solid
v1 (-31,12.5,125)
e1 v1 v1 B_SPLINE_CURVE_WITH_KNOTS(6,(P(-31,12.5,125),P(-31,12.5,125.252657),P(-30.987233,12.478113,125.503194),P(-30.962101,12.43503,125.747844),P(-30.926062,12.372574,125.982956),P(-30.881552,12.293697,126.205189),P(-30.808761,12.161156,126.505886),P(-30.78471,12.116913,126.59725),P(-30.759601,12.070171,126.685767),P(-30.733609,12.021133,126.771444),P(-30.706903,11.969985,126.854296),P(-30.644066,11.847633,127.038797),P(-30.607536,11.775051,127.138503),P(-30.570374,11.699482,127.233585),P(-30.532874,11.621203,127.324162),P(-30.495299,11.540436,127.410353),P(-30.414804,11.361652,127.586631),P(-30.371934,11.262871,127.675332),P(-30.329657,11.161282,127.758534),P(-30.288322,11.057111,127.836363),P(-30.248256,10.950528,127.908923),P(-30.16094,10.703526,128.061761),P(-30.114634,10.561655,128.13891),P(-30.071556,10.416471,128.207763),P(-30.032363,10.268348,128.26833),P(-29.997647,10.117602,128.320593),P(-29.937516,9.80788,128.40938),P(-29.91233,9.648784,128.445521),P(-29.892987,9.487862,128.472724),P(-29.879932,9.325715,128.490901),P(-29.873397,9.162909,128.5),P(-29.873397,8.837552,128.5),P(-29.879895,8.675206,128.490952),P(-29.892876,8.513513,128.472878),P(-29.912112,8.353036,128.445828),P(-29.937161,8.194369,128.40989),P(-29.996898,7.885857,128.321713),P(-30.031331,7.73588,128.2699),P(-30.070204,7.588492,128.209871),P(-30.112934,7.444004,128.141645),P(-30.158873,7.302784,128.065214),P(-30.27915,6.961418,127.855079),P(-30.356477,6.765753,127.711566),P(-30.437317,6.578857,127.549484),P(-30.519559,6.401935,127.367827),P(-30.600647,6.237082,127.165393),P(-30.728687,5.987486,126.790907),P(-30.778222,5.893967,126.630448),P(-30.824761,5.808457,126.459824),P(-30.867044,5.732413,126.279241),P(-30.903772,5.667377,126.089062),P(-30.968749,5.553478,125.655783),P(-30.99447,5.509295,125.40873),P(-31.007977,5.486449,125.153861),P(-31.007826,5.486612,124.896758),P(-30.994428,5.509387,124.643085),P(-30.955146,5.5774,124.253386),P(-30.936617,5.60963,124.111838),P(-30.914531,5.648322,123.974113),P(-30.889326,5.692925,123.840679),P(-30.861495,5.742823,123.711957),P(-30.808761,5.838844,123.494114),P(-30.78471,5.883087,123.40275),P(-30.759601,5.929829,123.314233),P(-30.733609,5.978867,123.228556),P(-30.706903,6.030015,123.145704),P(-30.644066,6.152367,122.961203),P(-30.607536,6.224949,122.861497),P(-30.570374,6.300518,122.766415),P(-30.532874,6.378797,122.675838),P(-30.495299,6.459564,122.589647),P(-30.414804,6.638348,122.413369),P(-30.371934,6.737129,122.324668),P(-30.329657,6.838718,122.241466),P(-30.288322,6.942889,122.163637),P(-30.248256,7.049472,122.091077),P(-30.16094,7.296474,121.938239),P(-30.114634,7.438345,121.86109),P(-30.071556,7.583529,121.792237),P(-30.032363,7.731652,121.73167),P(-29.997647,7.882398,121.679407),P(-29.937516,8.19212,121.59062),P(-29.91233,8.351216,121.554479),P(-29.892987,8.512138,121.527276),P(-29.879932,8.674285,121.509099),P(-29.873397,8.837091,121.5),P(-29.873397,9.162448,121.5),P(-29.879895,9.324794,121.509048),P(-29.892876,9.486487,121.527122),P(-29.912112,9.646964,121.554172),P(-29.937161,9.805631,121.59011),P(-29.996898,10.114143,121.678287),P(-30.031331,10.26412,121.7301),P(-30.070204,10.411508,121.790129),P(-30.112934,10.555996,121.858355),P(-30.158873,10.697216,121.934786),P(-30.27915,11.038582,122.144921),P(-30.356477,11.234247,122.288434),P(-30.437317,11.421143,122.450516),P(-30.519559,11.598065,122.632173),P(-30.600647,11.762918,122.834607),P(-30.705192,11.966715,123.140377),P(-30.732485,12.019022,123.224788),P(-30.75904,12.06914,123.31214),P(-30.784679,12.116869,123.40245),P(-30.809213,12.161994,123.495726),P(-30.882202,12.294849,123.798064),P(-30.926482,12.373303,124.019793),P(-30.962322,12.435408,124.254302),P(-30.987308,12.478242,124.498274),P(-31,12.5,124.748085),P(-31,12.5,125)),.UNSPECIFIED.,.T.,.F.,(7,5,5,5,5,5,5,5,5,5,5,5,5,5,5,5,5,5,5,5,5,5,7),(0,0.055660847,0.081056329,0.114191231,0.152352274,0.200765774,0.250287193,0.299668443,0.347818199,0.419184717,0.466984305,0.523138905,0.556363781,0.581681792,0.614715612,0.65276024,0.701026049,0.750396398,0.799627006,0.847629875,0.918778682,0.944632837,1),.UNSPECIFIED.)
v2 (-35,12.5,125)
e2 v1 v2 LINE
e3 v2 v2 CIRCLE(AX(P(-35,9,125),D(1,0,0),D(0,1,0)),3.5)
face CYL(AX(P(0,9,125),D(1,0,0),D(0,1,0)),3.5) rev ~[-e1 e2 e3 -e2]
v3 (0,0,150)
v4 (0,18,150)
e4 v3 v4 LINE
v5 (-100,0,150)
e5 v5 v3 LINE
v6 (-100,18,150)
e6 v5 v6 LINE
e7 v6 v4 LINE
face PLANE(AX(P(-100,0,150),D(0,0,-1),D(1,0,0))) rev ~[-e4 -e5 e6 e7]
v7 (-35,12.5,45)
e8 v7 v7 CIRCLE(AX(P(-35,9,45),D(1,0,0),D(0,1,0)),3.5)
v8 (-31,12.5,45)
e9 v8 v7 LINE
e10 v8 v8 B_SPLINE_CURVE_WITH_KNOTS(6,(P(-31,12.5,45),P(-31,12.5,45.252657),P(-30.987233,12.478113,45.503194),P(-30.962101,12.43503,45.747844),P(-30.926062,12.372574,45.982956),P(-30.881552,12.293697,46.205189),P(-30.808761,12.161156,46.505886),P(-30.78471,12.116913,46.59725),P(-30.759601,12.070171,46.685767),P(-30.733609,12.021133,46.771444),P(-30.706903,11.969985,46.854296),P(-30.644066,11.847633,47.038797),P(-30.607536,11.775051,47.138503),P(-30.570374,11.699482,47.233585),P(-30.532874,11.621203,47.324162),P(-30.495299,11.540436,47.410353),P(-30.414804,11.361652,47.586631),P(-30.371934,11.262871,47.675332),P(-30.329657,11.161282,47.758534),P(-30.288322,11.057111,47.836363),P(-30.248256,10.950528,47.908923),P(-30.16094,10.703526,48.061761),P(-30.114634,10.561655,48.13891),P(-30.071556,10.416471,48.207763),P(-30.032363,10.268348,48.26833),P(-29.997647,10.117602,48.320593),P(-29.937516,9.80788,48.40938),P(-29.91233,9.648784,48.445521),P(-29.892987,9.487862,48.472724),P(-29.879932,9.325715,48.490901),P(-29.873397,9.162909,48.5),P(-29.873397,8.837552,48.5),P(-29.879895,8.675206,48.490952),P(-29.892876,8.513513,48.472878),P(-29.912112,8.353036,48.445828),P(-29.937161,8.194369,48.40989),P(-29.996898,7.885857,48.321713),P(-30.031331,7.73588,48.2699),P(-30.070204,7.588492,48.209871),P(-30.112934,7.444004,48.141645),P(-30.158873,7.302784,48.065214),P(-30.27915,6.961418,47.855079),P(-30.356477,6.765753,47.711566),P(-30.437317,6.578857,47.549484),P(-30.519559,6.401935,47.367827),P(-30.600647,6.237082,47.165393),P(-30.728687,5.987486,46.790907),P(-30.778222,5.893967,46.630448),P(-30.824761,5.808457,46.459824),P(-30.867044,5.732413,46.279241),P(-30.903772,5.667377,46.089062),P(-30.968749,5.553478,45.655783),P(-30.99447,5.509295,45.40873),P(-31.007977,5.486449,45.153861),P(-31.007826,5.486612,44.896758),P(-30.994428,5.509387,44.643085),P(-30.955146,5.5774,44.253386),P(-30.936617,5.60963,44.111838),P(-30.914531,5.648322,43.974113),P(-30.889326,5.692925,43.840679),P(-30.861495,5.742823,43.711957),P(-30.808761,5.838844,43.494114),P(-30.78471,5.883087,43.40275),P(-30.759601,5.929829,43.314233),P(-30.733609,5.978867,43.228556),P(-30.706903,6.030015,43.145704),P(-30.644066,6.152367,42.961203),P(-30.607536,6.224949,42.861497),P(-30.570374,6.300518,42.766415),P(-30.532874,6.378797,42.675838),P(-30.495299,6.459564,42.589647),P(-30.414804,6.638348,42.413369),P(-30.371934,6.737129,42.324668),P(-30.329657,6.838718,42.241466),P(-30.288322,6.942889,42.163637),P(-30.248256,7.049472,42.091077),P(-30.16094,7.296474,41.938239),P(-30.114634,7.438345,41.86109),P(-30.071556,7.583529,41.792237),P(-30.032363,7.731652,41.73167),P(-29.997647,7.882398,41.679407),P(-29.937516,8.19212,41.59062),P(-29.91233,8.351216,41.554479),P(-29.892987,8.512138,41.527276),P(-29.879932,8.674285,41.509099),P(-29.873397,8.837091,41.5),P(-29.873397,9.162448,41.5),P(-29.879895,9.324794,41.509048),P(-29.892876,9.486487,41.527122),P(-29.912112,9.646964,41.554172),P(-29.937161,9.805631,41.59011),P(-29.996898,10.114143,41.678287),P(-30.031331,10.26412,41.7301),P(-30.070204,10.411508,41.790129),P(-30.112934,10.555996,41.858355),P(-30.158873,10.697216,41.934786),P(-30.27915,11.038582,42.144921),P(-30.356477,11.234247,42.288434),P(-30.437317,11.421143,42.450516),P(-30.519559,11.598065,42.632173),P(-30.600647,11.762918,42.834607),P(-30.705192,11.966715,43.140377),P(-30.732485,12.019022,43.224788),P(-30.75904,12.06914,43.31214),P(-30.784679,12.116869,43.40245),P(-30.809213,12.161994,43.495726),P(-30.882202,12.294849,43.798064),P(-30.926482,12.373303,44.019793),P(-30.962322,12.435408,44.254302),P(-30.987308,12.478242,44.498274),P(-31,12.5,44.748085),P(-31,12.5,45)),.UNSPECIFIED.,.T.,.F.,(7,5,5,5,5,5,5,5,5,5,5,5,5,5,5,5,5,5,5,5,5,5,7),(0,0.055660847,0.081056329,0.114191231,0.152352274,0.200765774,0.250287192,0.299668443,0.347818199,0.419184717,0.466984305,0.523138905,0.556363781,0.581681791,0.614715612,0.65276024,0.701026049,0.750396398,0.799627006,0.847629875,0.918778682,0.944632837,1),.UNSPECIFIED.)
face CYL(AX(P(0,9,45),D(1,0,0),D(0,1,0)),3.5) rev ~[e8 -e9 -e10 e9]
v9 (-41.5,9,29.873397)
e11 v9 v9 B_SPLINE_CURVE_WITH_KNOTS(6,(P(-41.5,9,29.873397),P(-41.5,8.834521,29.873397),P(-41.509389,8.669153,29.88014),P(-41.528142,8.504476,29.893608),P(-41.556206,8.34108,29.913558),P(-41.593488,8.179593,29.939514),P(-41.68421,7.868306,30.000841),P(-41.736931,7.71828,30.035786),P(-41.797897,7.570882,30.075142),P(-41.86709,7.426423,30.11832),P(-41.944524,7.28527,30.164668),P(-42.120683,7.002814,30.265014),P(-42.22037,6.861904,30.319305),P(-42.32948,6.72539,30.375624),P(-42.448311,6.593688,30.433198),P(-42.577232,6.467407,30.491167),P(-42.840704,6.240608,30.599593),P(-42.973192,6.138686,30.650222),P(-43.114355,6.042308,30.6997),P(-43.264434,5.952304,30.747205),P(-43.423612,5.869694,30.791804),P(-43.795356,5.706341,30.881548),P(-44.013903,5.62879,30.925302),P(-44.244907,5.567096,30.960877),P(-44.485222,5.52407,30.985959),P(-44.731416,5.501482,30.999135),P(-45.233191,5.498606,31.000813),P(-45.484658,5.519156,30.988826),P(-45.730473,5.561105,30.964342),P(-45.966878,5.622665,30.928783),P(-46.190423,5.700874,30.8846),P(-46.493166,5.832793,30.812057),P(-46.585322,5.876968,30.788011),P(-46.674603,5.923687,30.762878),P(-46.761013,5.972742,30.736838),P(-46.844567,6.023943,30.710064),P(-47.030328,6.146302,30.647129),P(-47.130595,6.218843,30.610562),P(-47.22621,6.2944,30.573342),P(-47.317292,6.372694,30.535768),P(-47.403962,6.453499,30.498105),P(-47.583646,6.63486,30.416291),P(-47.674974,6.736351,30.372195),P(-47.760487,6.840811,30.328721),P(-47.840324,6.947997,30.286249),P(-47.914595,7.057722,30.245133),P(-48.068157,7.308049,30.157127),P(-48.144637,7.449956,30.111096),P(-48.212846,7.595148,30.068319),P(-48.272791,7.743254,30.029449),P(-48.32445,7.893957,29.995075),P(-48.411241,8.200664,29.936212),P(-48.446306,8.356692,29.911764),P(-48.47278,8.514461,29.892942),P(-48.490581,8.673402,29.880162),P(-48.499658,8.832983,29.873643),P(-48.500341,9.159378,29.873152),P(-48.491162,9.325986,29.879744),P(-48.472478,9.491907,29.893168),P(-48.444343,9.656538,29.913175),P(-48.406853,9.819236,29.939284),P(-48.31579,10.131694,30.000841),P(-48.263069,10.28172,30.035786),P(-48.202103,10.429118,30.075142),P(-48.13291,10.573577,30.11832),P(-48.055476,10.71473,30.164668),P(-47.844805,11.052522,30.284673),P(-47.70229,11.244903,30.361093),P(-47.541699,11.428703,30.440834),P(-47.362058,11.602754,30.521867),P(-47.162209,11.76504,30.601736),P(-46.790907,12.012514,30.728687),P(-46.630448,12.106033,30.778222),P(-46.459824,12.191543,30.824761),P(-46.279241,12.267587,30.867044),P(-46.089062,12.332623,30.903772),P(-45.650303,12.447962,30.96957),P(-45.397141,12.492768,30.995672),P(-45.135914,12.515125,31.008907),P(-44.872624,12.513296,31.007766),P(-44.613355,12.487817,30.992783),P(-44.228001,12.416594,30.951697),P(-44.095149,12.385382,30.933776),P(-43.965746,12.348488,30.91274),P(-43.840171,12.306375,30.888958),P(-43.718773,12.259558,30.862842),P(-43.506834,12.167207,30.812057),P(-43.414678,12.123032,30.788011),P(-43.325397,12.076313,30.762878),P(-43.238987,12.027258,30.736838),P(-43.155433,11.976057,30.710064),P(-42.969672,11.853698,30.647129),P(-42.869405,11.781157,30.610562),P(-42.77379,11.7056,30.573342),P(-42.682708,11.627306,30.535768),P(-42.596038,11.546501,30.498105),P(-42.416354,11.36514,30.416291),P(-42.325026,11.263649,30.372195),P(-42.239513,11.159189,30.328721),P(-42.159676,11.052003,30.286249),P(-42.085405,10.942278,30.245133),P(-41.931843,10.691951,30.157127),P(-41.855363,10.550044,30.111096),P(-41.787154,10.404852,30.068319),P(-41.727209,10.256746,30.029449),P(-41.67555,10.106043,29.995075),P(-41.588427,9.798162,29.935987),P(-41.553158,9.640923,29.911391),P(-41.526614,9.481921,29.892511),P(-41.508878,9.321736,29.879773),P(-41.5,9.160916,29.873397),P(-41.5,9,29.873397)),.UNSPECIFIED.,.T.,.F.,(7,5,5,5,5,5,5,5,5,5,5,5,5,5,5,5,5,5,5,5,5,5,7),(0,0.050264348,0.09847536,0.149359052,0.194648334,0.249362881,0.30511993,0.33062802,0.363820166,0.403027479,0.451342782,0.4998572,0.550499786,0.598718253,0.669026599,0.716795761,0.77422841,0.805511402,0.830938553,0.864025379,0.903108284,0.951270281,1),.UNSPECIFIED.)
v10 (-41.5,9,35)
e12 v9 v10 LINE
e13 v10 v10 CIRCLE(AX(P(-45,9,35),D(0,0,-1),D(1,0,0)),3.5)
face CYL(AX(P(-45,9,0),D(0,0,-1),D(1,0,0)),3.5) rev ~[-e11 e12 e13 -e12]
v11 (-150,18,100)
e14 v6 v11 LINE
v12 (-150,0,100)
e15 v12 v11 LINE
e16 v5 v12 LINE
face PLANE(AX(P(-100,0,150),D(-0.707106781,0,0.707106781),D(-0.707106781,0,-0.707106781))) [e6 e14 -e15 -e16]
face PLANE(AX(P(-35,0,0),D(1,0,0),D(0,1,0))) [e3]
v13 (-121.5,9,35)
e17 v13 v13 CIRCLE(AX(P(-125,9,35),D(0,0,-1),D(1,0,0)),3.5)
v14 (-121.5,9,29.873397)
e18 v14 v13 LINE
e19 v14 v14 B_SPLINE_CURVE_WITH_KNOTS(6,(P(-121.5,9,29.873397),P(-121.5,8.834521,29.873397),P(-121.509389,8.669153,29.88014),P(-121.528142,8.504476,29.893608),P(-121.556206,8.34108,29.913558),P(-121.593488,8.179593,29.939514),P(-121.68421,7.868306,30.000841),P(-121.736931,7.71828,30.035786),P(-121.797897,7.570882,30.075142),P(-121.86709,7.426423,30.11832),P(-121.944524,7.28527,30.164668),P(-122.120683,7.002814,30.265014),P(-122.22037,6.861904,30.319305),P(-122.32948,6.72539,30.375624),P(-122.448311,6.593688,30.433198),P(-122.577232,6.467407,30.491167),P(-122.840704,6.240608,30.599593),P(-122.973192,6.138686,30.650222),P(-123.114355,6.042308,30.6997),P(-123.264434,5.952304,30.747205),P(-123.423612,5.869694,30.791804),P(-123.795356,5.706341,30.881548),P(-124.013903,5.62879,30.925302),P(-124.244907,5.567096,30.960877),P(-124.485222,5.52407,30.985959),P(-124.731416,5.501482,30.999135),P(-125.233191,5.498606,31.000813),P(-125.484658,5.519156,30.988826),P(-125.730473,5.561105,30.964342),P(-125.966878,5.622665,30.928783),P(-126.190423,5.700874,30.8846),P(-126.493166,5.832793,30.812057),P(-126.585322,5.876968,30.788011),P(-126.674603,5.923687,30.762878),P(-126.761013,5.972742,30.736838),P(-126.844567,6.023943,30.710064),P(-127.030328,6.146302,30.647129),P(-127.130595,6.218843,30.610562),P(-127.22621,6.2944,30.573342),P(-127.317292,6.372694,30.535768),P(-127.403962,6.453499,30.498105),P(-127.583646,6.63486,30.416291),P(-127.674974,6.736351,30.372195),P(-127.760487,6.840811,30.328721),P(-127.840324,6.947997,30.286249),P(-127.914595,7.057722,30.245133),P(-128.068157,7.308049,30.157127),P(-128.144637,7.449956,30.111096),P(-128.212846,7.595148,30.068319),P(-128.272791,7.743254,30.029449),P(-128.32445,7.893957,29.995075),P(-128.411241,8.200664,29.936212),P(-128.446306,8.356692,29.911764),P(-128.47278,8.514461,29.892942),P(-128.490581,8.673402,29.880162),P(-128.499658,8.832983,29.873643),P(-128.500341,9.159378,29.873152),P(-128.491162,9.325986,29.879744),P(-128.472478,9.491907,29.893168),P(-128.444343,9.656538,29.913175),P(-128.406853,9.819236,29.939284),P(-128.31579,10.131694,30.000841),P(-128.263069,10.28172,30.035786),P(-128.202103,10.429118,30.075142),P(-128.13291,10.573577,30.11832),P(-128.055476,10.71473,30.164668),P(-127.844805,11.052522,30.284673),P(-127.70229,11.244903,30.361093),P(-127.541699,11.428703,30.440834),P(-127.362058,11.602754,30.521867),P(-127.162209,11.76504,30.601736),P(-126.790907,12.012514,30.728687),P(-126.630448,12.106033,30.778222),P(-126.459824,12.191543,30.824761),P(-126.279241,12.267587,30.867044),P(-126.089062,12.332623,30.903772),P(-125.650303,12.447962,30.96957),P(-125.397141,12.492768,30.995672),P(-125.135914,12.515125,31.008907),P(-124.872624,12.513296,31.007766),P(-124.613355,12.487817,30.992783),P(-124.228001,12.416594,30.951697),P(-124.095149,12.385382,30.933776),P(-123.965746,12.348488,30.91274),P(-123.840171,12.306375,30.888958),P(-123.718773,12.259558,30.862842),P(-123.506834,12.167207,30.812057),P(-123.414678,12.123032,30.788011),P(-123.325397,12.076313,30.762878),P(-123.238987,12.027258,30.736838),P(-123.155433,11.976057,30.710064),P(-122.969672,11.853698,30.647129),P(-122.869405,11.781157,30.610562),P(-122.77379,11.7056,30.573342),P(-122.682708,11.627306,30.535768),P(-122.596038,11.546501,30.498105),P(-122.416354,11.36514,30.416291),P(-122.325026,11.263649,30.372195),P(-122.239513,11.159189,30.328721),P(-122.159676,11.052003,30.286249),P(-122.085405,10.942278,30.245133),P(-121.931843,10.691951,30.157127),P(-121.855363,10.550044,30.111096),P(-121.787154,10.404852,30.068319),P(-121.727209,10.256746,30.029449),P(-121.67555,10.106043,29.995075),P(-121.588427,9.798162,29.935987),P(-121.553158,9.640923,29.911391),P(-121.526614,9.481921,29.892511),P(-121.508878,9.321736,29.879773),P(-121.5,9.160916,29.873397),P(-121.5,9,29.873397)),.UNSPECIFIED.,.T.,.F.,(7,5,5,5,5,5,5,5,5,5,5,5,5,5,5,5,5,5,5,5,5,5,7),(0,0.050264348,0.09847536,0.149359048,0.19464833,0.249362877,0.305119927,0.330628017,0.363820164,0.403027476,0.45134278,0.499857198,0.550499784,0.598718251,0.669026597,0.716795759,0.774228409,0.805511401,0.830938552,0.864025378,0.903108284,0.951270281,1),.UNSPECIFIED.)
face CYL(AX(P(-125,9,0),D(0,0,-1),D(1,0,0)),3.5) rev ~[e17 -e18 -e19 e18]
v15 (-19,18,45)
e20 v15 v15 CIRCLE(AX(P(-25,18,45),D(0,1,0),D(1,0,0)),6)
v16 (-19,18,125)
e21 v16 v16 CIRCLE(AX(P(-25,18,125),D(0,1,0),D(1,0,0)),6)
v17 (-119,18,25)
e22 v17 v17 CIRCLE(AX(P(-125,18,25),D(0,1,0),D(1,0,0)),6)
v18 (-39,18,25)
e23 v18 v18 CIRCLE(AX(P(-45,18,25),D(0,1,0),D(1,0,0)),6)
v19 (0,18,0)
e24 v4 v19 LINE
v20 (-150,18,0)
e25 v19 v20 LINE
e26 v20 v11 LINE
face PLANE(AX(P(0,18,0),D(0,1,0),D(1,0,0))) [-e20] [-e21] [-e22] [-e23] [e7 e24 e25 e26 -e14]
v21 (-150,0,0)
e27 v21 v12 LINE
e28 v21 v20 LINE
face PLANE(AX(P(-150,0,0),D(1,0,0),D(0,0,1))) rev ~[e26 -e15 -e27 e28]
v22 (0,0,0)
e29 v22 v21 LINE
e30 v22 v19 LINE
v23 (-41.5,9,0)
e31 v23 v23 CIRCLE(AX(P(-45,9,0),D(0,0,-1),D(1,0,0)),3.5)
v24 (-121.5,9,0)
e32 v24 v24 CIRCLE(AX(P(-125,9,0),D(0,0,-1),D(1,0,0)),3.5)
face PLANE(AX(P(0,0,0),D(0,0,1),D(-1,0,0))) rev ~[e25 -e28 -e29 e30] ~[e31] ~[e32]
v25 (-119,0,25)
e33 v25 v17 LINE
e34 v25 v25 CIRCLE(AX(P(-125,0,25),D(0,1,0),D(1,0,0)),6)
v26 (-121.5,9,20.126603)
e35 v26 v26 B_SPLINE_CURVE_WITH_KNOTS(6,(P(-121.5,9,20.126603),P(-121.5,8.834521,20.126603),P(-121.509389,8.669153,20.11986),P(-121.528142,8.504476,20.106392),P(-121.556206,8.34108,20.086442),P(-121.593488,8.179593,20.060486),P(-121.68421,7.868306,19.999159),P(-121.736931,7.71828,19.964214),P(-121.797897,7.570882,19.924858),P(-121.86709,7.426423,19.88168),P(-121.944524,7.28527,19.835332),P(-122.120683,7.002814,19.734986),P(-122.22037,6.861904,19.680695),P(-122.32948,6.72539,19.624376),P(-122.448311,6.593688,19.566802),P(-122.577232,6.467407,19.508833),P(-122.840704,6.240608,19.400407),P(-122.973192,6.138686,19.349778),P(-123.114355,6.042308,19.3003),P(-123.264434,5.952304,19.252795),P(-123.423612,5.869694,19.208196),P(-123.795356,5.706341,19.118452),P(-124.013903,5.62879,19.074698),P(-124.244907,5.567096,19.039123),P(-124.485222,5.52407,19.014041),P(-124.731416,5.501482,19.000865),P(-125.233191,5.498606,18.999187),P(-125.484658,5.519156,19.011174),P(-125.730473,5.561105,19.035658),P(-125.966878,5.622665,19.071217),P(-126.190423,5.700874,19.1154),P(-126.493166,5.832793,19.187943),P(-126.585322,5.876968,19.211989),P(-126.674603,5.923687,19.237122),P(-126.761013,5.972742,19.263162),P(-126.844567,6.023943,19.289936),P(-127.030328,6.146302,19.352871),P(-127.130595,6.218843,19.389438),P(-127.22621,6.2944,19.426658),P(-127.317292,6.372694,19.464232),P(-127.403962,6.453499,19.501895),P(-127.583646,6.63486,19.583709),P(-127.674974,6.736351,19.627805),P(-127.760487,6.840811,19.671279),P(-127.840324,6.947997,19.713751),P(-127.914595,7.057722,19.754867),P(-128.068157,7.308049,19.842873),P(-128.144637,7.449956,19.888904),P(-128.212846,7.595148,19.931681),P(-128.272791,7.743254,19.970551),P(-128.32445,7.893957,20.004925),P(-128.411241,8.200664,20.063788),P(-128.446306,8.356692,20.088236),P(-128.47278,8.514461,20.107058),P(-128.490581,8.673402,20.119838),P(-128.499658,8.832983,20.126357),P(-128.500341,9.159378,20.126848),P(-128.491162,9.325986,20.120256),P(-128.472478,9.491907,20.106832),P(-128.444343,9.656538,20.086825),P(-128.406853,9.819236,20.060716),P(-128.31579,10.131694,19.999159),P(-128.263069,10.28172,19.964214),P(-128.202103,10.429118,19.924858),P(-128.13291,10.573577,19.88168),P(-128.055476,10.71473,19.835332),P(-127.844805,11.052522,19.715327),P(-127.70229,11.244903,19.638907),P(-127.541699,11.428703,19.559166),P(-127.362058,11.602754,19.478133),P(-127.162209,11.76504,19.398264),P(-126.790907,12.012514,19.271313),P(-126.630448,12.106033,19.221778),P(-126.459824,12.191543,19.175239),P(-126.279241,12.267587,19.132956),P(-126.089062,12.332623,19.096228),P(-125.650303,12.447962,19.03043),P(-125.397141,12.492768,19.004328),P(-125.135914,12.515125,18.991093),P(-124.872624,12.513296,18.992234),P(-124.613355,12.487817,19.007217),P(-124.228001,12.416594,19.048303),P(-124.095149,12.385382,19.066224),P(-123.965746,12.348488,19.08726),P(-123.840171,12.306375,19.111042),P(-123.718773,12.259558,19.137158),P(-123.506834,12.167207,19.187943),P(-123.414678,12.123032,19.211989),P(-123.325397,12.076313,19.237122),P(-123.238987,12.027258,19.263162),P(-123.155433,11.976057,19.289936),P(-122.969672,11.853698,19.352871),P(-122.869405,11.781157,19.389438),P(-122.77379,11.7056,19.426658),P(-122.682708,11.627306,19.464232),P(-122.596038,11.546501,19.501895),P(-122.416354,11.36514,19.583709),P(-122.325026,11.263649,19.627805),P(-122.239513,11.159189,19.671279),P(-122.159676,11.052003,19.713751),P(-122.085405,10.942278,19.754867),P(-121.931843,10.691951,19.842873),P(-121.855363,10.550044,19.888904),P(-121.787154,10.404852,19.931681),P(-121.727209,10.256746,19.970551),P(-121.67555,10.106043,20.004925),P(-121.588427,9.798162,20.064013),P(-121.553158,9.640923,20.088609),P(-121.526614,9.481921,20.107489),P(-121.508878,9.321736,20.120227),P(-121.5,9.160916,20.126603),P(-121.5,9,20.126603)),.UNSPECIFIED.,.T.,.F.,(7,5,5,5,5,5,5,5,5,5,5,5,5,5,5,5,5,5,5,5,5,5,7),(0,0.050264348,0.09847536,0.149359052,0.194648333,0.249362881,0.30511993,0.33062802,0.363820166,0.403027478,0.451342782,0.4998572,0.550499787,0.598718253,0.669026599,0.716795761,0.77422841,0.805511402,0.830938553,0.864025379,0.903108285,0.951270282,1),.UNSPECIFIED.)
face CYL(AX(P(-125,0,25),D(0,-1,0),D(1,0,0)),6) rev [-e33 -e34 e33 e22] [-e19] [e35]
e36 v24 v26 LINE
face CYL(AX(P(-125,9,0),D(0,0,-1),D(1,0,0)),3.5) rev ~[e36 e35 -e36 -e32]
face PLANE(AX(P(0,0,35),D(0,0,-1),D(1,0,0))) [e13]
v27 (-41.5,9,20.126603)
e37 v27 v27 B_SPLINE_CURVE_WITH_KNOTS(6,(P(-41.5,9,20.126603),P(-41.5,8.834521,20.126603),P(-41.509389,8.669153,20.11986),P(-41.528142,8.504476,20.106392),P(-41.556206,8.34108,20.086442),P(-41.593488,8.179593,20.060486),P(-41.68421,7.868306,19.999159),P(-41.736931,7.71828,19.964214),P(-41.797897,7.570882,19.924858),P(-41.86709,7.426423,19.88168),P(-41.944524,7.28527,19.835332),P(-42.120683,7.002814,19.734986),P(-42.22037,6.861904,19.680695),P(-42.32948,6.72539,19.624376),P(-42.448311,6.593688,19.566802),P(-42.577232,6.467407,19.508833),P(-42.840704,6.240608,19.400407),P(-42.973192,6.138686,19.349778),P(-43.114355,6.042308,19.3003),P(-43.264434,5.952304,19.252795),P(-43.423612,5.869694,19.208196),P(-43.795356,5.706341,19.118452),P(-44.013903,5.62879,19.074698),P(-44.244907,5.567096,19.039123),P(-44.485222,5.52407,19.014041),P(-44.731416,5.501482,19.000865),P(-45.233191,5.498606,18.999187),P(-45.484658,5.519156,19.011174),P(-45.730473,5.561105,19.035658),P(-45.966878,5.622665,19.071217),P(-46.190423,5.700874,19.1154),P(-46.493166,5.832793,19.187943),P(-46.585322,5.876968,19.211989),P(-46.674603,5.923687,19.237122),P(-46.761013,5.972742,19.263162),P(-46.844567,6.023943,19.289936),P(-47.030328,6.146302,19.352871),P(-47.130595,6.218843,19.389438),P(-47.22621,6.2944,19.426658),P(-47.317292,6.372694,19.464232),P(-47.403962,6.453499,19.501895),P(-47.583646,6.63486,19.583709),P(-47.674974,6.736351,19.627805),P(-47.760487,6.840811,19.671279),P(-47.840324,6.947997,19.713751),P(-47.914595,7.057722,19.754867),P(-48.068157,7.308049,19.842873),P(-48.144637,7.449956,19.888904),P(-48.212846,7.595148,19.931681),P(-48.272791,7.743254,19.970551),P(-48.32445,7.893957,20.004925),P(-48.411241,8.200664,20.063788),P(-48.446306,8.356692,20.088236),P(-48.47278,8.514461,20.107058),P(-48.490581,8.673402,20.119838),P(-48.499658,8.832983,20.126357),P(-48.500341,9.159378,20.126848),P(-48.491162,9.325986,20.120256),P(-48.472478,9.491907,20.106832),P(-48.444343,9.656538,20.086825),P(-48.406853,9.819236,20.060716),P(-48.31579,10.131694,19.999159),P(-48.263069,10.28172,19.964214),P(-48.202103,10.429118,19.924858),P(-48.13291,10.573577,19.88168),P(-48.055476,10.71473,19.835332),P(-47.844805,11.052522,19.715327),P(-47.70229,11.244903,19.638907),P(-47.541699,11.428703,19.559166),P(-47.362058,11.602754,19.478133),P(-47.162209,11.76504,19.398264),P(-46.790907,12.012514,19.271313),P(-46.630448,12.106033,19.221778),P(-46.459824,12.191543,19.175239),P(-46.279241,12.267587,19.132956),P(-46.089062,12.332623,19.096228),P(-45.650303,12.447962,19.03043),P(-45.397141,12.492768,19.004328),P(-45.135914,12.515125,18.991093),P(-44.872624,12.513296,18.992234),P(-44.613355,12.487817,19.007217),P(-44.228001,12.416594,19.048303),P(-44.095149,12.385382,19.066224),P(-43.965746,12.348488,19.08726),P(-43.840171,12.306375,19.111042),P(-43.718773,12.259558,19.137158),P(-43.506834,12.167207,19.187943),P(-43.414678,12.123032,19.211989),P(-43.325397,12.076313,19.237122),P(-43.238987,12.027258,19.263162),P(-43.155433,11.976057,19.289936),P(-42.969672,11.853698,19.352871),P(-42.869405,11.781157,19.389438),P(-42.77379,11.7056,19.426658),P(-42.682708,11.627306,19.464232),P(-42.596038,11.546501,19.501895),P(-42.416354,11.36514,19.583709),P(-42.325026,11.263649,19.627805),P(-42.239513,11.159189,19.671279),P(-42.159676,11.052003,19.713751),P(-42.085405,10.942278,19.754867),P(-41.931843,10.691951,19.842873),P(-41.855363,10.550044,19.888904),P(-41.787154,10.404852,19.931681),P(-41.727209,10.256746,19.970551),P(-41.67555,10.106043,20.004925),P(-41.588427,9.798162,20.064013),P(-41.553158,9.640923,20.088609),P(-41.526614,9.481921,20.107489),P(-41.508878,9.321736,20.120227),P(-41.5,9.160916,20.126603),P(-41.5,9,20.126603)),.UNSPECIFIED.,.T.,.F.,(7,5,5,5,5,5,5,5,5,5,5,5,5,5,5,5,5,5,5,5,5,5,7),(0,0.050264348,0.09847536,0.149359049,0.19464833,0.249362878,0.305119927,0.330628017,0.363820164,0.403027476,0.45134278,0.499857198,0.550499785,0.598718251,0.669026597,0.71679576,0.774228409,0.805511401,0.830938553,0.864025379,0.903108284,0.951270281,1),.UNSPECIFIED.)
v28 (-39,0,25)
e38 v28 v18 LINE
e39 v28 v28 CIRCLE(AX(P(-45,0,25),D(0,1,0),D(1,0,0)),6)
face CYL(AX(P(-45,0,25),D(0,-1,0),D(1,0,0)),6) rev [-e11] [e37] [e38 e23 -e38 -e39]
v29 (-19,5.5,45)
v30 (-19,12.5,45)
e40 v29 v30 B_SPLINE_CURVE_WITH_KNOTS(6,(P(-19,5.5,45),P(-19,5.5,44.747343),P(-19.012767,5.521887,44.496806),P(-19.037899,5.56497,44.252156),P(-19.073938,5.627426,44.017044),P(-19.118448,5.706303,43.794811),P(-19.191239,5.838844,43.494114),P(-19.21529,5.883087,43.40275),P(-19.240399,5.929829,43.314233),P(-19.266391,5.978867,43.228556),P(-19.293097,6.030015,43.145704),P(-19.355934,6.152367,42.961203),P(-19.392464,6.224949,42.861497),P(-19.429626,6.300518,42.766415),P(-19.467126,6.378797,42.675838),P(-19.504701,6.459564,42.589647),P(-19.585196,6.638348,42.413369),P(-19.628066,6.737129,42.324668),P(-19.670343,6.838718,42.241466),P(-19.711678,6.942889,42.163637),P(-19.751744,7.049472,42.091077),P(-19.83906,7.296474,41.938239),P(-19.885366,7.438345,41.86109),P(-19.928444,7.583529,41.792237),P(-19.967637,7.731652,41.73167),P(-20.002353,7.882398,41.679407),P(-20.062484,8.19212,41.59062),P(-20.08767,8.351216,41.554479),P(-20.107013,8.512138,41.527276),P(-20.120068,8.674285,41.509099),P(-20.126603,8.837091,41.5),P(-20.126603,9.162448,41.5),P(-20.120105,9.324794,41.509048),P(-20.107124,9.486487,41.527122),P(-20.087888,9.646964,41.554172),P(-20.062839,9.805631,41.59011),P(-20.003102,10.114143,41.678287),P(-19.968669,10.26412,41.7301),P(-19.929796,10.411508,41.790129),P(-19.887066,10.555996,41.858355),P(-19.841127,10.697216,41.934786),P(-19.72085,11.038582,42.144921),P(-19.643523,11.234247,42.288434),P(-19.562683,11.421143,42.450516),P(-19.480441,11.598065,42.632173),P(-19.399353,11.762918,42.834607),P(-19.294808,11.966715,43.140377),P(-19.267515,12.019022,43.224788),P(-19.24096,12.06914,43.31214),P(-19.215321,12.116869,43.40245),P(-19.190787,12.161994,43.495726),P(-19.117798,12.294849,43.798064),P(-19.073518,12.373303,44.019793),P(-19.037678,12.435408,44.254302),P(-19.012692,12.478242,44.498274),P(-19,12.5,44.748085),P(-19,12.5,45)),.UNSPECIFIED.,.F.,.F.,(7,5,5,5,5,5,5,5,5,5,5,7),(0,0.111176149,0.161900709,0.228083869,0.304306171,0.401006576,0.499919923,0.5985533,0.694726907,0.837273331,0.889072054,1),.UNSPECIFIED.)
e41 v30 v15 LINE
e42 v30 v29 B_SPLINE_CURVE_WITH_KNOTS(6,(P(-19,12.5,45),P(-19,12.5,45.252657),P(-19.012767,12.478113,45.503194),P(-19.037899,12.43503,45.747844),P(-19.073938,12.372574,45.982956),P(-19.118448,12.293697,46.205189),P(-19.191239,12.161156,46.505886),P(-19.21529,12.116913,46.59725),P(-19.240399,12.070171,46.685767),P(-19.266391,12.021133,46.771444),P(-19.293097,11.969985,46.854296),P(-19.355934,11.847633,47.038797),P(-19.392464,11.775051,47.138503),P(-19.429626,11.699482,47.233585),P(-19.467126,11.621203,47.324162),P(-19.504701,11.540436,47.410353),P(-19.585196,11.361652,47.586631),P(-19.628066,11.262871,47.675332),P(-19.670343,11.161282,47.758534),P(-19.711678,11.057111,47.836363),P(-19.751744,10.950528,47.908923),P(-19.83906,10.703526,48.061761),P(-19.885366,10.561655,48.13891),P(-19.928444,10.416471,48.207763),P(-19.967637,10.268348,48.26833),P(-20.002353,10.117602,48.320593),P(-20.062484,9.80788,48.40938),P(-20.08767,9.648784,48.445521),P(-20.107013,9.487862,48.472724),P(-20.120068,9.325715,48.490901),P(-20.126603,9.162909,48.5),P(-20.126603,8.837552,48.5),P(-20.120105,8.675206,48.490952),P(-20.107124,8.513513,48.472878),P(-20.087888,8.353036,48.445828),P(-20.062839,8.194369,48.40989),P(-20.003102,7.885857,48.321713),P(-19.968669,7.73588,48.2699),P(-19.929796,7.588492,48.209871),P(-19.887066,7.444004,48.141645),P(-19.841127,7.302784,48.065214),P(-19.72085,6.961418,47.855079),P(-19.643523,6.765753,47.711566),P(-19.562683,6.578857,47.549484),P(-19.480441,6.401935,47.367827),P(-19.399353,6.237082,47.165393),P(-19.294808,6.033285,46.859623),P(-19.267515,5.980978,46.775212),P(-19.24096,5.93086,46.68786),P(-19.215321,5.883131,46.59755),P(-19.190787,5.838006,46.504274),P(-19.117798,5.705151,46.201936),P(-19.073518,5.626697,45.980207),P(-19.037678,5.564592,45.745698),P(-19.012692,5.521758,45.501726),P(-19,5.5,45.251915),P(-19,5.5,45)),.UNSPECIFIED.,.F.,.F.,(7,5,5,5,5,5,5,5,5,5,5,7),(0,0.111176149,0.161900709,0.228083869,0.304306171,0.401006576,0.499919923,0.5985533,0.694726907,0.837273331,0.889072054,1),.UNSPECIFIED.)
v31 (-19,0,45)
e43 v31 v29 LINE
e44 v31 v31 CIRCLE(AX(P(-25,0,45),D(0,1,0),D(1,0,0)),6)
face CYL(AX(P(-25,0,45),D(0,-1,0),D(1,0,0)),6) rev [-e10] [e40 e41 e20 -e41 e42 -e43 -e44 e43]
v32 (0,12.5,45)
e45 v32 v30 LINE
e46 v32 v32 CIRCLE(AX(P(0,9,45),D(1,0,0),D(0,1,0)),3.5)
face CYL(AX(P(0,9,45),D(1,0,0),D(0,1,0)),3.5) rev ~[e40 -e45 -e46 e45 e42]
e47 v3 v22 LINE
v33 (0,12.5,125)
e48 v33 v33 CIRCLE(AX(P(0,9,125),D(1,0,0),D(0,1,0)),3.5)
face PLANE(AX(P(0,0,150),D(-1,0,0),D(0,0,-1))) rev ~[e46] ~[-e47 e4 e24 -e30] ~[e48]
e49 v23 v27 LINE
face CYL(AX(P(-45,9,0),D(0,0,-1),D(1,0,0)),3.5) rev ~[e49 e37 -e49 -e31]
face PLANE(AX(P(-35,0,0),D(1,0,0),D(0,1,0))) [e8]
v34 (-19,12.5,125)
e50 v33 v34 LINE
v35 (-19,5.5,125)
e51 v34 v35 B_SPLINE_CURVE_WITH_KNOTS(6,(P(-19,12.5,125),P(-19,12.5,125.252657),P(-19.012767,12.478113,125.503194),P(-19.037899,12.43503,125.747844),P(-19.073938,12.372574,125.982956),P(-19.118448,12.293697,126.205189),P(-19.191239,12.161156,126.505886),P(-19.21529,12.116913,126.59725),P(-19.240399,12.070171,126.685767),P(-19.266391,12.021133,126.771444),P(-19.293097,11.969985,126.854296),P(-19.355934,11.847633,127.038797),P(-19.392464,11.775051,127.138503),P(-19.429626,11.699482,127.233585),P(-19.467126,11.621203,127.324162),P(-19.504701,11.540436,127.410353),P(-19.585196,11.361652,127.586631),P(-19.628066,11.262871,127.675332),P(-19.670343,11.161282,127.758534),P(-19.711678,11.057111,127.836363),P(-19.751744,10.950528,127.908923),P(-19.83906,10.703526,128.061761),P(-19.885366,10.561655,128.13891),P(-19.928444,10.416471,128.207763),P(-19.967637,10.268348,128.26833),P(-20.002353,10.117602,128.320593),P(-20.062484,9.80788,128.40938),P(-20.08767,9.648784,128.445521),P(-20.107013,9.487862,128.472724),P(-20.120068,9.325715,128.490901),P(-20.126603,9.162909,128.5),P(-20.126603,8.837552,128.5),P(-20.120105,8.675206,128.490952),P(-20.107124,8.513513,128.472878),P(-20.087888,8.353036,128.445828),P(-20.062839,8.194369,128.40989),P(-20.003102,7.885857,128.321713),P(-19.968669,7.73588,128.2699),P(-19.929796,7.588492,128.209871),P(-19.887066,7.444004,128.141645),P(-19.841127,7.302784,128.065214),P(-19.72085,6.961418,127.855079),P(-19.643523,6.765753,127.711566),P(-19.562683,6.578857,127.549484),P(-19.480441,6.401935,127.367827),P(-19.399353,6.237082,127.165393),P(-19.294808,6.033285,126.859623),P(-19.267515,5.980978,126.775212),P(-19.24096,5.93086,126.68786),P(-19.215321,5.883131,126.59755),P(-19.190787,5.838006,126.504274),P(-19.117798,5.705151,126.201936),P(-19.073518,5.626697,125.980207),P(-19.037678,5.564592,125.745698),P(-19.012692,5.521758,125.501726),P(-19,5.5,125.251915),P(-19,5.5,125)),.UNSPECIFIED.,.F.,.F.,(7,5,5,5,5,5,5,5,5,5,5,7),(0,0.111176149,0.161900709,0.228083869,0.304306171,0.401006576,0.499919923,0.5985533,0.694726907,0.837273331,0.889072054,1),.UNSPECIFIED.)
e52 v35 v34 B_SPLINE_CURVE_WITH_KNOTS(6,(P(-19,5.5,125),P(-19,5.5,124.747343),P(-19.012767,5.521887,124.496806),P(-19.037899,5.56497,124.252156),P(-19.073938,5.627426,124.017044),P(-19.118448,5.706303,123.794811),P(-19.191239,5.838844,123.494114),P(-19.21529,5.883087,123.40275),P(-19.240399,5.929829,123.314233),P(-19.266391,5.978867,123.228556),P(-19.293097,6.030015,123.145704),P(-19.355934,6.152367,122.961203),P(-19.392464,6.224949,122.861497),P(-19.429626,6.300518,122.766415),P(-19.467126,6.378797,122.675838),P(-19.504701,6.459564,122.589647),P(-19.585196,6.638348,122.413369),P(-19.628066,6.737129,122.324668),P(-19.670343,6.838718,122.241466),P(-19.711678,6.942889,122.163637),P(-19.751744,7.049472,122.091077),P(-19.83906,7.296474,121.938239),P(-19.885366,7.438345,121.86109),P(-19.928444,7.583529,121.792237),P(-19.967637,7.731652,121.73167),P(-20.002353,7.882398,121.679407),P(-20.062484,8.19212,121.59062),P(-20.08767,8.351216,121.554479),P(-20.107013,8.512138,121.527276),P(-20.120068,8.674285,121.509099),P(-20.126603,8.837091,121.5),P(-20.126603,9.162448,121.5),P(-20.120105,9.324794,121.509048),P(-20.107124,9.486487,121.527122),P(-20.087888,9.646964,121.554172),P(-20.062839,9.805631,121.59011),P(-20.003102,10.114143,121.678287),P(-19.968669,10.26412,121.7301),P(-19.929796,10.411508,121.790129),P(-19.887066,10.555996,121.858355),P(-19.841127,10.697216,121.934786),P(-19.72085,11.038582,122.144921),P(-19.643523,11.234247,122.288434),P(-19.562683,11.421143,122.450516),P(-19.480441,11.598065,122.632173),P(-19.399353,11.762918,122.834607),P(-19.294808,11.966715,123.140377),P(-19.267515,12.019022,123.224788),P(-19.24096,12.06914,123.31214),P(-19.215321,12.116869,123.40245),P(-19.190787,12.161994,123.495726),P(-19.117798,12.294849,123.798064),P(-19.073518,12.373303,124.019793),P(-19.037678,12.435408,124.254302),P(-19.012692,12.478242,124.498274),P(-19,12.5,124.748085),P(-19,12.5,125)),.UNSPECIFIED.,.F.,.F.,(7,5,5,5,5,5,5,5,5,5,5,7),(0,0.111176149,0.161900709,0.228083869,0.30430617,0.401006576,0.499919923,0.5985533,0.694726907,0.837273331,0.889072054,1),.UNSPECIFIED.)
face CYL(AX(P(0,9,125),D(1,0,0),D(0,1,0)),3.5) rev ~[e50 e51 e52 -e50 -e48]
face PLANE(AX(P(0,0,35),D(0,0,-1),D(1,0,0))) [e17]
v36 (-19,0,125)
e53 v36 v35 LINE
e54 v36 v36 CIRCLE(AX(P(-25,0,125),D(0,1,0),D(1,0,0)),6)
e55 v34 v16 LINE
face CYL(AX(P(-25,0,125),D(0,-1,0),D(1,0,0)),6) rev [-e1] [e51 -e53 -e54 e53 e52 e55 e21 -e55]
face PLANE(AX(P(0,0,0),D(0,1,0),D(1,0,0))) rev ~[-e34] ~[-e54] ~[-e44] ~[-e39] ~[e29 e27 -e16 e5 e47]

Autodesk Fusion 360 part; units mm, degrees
sketch "Front" plane through (0, 0, 0) normal (0, 1, 0) x (1, 0, 0)
  line L0 (0, 0) -> (-150, 0)
  line L1 (-150, 0) -> (-150, -100)
  line L2 (-100, -150) -> (0, -150)
  line L3 (0, -150) -> (0, 0)
  line L4 (-100, -150) -> (-150, -100)
  line L5 (-25, 0) -> (-25, -150) construction
  line L6 (0, -25) -> (-150, -25) construction
  circle A0 centre (-45, -25) radius 6
  circle A1 centre (-125, -25) radius 6
  circle A2 centre (-25, -45) radius 6
  circle A3 centre (-25, -125) radius 6
  dimension "d1" = 150
  dimension "d2" = 150
  dimension "d3" = 50
  dimension "d4" = 50
  dimension "d5" = 25
  dimension "d6" = 25
  dimension "d7" = 12
  dimension "d8" = 12
  dimension "d9" = 12
  dimension "d10" = 12
  dimension "d11" = 45
  dimension "d12" = 80
  dimension "d13" = 45
  dimension "d14" = 80
extrude "Extrude1" add sketch "Front" along normal blind 18
sketch "Right" plane through (0, 0, 0) normal (1, 0, 0) x (0, 1, 0)
  line L0 (0, 150) -> (0, 0)
  line L1 (0, 0) -> (18, 0)
  line L2 (18, 0) -> (18, 150)
  line L3 (18, 150) -> (0, 150)
  line L4 (9, 0) -> (9, 150) construction
  circle A0 centre (9, 45) radius 3.5
  circle A1 centre (9, 125) radius 3.5
  dimension "d17" = 7
  dimension "d18" = 7
  dimension "d19" = 45
  dimension "d20" = 80
extrude "Extrude2" cut sketch "Right" against normal blind 35 contours A0 | A1
sketch "Sketch3" plane through (0, 0, 0) normal (0, 0, -1) x (1, 0, 0)
  line L0 (0, 0) -> (-150, 0)
  line L1 (-150, 0) -> (-150, -18)
  line L2 (-150, -18) -> (0, -18)
  line L3 (0, -18) -> (0, 0)
  line L4 (0, -9) -> (-150, -9) construction
  circle A0 centre (-45, -9) radius 3.5
  circle A1 centre (-125, -9) radius 3.5
  dimension "d23" = 7
  dimension "d24" = 7
  dimension "d25" = 45
  dimension "d26" = 80
extrude "Extrude3" cut sketch "Sketch3" against normal blind 35 contours A0 | A1
